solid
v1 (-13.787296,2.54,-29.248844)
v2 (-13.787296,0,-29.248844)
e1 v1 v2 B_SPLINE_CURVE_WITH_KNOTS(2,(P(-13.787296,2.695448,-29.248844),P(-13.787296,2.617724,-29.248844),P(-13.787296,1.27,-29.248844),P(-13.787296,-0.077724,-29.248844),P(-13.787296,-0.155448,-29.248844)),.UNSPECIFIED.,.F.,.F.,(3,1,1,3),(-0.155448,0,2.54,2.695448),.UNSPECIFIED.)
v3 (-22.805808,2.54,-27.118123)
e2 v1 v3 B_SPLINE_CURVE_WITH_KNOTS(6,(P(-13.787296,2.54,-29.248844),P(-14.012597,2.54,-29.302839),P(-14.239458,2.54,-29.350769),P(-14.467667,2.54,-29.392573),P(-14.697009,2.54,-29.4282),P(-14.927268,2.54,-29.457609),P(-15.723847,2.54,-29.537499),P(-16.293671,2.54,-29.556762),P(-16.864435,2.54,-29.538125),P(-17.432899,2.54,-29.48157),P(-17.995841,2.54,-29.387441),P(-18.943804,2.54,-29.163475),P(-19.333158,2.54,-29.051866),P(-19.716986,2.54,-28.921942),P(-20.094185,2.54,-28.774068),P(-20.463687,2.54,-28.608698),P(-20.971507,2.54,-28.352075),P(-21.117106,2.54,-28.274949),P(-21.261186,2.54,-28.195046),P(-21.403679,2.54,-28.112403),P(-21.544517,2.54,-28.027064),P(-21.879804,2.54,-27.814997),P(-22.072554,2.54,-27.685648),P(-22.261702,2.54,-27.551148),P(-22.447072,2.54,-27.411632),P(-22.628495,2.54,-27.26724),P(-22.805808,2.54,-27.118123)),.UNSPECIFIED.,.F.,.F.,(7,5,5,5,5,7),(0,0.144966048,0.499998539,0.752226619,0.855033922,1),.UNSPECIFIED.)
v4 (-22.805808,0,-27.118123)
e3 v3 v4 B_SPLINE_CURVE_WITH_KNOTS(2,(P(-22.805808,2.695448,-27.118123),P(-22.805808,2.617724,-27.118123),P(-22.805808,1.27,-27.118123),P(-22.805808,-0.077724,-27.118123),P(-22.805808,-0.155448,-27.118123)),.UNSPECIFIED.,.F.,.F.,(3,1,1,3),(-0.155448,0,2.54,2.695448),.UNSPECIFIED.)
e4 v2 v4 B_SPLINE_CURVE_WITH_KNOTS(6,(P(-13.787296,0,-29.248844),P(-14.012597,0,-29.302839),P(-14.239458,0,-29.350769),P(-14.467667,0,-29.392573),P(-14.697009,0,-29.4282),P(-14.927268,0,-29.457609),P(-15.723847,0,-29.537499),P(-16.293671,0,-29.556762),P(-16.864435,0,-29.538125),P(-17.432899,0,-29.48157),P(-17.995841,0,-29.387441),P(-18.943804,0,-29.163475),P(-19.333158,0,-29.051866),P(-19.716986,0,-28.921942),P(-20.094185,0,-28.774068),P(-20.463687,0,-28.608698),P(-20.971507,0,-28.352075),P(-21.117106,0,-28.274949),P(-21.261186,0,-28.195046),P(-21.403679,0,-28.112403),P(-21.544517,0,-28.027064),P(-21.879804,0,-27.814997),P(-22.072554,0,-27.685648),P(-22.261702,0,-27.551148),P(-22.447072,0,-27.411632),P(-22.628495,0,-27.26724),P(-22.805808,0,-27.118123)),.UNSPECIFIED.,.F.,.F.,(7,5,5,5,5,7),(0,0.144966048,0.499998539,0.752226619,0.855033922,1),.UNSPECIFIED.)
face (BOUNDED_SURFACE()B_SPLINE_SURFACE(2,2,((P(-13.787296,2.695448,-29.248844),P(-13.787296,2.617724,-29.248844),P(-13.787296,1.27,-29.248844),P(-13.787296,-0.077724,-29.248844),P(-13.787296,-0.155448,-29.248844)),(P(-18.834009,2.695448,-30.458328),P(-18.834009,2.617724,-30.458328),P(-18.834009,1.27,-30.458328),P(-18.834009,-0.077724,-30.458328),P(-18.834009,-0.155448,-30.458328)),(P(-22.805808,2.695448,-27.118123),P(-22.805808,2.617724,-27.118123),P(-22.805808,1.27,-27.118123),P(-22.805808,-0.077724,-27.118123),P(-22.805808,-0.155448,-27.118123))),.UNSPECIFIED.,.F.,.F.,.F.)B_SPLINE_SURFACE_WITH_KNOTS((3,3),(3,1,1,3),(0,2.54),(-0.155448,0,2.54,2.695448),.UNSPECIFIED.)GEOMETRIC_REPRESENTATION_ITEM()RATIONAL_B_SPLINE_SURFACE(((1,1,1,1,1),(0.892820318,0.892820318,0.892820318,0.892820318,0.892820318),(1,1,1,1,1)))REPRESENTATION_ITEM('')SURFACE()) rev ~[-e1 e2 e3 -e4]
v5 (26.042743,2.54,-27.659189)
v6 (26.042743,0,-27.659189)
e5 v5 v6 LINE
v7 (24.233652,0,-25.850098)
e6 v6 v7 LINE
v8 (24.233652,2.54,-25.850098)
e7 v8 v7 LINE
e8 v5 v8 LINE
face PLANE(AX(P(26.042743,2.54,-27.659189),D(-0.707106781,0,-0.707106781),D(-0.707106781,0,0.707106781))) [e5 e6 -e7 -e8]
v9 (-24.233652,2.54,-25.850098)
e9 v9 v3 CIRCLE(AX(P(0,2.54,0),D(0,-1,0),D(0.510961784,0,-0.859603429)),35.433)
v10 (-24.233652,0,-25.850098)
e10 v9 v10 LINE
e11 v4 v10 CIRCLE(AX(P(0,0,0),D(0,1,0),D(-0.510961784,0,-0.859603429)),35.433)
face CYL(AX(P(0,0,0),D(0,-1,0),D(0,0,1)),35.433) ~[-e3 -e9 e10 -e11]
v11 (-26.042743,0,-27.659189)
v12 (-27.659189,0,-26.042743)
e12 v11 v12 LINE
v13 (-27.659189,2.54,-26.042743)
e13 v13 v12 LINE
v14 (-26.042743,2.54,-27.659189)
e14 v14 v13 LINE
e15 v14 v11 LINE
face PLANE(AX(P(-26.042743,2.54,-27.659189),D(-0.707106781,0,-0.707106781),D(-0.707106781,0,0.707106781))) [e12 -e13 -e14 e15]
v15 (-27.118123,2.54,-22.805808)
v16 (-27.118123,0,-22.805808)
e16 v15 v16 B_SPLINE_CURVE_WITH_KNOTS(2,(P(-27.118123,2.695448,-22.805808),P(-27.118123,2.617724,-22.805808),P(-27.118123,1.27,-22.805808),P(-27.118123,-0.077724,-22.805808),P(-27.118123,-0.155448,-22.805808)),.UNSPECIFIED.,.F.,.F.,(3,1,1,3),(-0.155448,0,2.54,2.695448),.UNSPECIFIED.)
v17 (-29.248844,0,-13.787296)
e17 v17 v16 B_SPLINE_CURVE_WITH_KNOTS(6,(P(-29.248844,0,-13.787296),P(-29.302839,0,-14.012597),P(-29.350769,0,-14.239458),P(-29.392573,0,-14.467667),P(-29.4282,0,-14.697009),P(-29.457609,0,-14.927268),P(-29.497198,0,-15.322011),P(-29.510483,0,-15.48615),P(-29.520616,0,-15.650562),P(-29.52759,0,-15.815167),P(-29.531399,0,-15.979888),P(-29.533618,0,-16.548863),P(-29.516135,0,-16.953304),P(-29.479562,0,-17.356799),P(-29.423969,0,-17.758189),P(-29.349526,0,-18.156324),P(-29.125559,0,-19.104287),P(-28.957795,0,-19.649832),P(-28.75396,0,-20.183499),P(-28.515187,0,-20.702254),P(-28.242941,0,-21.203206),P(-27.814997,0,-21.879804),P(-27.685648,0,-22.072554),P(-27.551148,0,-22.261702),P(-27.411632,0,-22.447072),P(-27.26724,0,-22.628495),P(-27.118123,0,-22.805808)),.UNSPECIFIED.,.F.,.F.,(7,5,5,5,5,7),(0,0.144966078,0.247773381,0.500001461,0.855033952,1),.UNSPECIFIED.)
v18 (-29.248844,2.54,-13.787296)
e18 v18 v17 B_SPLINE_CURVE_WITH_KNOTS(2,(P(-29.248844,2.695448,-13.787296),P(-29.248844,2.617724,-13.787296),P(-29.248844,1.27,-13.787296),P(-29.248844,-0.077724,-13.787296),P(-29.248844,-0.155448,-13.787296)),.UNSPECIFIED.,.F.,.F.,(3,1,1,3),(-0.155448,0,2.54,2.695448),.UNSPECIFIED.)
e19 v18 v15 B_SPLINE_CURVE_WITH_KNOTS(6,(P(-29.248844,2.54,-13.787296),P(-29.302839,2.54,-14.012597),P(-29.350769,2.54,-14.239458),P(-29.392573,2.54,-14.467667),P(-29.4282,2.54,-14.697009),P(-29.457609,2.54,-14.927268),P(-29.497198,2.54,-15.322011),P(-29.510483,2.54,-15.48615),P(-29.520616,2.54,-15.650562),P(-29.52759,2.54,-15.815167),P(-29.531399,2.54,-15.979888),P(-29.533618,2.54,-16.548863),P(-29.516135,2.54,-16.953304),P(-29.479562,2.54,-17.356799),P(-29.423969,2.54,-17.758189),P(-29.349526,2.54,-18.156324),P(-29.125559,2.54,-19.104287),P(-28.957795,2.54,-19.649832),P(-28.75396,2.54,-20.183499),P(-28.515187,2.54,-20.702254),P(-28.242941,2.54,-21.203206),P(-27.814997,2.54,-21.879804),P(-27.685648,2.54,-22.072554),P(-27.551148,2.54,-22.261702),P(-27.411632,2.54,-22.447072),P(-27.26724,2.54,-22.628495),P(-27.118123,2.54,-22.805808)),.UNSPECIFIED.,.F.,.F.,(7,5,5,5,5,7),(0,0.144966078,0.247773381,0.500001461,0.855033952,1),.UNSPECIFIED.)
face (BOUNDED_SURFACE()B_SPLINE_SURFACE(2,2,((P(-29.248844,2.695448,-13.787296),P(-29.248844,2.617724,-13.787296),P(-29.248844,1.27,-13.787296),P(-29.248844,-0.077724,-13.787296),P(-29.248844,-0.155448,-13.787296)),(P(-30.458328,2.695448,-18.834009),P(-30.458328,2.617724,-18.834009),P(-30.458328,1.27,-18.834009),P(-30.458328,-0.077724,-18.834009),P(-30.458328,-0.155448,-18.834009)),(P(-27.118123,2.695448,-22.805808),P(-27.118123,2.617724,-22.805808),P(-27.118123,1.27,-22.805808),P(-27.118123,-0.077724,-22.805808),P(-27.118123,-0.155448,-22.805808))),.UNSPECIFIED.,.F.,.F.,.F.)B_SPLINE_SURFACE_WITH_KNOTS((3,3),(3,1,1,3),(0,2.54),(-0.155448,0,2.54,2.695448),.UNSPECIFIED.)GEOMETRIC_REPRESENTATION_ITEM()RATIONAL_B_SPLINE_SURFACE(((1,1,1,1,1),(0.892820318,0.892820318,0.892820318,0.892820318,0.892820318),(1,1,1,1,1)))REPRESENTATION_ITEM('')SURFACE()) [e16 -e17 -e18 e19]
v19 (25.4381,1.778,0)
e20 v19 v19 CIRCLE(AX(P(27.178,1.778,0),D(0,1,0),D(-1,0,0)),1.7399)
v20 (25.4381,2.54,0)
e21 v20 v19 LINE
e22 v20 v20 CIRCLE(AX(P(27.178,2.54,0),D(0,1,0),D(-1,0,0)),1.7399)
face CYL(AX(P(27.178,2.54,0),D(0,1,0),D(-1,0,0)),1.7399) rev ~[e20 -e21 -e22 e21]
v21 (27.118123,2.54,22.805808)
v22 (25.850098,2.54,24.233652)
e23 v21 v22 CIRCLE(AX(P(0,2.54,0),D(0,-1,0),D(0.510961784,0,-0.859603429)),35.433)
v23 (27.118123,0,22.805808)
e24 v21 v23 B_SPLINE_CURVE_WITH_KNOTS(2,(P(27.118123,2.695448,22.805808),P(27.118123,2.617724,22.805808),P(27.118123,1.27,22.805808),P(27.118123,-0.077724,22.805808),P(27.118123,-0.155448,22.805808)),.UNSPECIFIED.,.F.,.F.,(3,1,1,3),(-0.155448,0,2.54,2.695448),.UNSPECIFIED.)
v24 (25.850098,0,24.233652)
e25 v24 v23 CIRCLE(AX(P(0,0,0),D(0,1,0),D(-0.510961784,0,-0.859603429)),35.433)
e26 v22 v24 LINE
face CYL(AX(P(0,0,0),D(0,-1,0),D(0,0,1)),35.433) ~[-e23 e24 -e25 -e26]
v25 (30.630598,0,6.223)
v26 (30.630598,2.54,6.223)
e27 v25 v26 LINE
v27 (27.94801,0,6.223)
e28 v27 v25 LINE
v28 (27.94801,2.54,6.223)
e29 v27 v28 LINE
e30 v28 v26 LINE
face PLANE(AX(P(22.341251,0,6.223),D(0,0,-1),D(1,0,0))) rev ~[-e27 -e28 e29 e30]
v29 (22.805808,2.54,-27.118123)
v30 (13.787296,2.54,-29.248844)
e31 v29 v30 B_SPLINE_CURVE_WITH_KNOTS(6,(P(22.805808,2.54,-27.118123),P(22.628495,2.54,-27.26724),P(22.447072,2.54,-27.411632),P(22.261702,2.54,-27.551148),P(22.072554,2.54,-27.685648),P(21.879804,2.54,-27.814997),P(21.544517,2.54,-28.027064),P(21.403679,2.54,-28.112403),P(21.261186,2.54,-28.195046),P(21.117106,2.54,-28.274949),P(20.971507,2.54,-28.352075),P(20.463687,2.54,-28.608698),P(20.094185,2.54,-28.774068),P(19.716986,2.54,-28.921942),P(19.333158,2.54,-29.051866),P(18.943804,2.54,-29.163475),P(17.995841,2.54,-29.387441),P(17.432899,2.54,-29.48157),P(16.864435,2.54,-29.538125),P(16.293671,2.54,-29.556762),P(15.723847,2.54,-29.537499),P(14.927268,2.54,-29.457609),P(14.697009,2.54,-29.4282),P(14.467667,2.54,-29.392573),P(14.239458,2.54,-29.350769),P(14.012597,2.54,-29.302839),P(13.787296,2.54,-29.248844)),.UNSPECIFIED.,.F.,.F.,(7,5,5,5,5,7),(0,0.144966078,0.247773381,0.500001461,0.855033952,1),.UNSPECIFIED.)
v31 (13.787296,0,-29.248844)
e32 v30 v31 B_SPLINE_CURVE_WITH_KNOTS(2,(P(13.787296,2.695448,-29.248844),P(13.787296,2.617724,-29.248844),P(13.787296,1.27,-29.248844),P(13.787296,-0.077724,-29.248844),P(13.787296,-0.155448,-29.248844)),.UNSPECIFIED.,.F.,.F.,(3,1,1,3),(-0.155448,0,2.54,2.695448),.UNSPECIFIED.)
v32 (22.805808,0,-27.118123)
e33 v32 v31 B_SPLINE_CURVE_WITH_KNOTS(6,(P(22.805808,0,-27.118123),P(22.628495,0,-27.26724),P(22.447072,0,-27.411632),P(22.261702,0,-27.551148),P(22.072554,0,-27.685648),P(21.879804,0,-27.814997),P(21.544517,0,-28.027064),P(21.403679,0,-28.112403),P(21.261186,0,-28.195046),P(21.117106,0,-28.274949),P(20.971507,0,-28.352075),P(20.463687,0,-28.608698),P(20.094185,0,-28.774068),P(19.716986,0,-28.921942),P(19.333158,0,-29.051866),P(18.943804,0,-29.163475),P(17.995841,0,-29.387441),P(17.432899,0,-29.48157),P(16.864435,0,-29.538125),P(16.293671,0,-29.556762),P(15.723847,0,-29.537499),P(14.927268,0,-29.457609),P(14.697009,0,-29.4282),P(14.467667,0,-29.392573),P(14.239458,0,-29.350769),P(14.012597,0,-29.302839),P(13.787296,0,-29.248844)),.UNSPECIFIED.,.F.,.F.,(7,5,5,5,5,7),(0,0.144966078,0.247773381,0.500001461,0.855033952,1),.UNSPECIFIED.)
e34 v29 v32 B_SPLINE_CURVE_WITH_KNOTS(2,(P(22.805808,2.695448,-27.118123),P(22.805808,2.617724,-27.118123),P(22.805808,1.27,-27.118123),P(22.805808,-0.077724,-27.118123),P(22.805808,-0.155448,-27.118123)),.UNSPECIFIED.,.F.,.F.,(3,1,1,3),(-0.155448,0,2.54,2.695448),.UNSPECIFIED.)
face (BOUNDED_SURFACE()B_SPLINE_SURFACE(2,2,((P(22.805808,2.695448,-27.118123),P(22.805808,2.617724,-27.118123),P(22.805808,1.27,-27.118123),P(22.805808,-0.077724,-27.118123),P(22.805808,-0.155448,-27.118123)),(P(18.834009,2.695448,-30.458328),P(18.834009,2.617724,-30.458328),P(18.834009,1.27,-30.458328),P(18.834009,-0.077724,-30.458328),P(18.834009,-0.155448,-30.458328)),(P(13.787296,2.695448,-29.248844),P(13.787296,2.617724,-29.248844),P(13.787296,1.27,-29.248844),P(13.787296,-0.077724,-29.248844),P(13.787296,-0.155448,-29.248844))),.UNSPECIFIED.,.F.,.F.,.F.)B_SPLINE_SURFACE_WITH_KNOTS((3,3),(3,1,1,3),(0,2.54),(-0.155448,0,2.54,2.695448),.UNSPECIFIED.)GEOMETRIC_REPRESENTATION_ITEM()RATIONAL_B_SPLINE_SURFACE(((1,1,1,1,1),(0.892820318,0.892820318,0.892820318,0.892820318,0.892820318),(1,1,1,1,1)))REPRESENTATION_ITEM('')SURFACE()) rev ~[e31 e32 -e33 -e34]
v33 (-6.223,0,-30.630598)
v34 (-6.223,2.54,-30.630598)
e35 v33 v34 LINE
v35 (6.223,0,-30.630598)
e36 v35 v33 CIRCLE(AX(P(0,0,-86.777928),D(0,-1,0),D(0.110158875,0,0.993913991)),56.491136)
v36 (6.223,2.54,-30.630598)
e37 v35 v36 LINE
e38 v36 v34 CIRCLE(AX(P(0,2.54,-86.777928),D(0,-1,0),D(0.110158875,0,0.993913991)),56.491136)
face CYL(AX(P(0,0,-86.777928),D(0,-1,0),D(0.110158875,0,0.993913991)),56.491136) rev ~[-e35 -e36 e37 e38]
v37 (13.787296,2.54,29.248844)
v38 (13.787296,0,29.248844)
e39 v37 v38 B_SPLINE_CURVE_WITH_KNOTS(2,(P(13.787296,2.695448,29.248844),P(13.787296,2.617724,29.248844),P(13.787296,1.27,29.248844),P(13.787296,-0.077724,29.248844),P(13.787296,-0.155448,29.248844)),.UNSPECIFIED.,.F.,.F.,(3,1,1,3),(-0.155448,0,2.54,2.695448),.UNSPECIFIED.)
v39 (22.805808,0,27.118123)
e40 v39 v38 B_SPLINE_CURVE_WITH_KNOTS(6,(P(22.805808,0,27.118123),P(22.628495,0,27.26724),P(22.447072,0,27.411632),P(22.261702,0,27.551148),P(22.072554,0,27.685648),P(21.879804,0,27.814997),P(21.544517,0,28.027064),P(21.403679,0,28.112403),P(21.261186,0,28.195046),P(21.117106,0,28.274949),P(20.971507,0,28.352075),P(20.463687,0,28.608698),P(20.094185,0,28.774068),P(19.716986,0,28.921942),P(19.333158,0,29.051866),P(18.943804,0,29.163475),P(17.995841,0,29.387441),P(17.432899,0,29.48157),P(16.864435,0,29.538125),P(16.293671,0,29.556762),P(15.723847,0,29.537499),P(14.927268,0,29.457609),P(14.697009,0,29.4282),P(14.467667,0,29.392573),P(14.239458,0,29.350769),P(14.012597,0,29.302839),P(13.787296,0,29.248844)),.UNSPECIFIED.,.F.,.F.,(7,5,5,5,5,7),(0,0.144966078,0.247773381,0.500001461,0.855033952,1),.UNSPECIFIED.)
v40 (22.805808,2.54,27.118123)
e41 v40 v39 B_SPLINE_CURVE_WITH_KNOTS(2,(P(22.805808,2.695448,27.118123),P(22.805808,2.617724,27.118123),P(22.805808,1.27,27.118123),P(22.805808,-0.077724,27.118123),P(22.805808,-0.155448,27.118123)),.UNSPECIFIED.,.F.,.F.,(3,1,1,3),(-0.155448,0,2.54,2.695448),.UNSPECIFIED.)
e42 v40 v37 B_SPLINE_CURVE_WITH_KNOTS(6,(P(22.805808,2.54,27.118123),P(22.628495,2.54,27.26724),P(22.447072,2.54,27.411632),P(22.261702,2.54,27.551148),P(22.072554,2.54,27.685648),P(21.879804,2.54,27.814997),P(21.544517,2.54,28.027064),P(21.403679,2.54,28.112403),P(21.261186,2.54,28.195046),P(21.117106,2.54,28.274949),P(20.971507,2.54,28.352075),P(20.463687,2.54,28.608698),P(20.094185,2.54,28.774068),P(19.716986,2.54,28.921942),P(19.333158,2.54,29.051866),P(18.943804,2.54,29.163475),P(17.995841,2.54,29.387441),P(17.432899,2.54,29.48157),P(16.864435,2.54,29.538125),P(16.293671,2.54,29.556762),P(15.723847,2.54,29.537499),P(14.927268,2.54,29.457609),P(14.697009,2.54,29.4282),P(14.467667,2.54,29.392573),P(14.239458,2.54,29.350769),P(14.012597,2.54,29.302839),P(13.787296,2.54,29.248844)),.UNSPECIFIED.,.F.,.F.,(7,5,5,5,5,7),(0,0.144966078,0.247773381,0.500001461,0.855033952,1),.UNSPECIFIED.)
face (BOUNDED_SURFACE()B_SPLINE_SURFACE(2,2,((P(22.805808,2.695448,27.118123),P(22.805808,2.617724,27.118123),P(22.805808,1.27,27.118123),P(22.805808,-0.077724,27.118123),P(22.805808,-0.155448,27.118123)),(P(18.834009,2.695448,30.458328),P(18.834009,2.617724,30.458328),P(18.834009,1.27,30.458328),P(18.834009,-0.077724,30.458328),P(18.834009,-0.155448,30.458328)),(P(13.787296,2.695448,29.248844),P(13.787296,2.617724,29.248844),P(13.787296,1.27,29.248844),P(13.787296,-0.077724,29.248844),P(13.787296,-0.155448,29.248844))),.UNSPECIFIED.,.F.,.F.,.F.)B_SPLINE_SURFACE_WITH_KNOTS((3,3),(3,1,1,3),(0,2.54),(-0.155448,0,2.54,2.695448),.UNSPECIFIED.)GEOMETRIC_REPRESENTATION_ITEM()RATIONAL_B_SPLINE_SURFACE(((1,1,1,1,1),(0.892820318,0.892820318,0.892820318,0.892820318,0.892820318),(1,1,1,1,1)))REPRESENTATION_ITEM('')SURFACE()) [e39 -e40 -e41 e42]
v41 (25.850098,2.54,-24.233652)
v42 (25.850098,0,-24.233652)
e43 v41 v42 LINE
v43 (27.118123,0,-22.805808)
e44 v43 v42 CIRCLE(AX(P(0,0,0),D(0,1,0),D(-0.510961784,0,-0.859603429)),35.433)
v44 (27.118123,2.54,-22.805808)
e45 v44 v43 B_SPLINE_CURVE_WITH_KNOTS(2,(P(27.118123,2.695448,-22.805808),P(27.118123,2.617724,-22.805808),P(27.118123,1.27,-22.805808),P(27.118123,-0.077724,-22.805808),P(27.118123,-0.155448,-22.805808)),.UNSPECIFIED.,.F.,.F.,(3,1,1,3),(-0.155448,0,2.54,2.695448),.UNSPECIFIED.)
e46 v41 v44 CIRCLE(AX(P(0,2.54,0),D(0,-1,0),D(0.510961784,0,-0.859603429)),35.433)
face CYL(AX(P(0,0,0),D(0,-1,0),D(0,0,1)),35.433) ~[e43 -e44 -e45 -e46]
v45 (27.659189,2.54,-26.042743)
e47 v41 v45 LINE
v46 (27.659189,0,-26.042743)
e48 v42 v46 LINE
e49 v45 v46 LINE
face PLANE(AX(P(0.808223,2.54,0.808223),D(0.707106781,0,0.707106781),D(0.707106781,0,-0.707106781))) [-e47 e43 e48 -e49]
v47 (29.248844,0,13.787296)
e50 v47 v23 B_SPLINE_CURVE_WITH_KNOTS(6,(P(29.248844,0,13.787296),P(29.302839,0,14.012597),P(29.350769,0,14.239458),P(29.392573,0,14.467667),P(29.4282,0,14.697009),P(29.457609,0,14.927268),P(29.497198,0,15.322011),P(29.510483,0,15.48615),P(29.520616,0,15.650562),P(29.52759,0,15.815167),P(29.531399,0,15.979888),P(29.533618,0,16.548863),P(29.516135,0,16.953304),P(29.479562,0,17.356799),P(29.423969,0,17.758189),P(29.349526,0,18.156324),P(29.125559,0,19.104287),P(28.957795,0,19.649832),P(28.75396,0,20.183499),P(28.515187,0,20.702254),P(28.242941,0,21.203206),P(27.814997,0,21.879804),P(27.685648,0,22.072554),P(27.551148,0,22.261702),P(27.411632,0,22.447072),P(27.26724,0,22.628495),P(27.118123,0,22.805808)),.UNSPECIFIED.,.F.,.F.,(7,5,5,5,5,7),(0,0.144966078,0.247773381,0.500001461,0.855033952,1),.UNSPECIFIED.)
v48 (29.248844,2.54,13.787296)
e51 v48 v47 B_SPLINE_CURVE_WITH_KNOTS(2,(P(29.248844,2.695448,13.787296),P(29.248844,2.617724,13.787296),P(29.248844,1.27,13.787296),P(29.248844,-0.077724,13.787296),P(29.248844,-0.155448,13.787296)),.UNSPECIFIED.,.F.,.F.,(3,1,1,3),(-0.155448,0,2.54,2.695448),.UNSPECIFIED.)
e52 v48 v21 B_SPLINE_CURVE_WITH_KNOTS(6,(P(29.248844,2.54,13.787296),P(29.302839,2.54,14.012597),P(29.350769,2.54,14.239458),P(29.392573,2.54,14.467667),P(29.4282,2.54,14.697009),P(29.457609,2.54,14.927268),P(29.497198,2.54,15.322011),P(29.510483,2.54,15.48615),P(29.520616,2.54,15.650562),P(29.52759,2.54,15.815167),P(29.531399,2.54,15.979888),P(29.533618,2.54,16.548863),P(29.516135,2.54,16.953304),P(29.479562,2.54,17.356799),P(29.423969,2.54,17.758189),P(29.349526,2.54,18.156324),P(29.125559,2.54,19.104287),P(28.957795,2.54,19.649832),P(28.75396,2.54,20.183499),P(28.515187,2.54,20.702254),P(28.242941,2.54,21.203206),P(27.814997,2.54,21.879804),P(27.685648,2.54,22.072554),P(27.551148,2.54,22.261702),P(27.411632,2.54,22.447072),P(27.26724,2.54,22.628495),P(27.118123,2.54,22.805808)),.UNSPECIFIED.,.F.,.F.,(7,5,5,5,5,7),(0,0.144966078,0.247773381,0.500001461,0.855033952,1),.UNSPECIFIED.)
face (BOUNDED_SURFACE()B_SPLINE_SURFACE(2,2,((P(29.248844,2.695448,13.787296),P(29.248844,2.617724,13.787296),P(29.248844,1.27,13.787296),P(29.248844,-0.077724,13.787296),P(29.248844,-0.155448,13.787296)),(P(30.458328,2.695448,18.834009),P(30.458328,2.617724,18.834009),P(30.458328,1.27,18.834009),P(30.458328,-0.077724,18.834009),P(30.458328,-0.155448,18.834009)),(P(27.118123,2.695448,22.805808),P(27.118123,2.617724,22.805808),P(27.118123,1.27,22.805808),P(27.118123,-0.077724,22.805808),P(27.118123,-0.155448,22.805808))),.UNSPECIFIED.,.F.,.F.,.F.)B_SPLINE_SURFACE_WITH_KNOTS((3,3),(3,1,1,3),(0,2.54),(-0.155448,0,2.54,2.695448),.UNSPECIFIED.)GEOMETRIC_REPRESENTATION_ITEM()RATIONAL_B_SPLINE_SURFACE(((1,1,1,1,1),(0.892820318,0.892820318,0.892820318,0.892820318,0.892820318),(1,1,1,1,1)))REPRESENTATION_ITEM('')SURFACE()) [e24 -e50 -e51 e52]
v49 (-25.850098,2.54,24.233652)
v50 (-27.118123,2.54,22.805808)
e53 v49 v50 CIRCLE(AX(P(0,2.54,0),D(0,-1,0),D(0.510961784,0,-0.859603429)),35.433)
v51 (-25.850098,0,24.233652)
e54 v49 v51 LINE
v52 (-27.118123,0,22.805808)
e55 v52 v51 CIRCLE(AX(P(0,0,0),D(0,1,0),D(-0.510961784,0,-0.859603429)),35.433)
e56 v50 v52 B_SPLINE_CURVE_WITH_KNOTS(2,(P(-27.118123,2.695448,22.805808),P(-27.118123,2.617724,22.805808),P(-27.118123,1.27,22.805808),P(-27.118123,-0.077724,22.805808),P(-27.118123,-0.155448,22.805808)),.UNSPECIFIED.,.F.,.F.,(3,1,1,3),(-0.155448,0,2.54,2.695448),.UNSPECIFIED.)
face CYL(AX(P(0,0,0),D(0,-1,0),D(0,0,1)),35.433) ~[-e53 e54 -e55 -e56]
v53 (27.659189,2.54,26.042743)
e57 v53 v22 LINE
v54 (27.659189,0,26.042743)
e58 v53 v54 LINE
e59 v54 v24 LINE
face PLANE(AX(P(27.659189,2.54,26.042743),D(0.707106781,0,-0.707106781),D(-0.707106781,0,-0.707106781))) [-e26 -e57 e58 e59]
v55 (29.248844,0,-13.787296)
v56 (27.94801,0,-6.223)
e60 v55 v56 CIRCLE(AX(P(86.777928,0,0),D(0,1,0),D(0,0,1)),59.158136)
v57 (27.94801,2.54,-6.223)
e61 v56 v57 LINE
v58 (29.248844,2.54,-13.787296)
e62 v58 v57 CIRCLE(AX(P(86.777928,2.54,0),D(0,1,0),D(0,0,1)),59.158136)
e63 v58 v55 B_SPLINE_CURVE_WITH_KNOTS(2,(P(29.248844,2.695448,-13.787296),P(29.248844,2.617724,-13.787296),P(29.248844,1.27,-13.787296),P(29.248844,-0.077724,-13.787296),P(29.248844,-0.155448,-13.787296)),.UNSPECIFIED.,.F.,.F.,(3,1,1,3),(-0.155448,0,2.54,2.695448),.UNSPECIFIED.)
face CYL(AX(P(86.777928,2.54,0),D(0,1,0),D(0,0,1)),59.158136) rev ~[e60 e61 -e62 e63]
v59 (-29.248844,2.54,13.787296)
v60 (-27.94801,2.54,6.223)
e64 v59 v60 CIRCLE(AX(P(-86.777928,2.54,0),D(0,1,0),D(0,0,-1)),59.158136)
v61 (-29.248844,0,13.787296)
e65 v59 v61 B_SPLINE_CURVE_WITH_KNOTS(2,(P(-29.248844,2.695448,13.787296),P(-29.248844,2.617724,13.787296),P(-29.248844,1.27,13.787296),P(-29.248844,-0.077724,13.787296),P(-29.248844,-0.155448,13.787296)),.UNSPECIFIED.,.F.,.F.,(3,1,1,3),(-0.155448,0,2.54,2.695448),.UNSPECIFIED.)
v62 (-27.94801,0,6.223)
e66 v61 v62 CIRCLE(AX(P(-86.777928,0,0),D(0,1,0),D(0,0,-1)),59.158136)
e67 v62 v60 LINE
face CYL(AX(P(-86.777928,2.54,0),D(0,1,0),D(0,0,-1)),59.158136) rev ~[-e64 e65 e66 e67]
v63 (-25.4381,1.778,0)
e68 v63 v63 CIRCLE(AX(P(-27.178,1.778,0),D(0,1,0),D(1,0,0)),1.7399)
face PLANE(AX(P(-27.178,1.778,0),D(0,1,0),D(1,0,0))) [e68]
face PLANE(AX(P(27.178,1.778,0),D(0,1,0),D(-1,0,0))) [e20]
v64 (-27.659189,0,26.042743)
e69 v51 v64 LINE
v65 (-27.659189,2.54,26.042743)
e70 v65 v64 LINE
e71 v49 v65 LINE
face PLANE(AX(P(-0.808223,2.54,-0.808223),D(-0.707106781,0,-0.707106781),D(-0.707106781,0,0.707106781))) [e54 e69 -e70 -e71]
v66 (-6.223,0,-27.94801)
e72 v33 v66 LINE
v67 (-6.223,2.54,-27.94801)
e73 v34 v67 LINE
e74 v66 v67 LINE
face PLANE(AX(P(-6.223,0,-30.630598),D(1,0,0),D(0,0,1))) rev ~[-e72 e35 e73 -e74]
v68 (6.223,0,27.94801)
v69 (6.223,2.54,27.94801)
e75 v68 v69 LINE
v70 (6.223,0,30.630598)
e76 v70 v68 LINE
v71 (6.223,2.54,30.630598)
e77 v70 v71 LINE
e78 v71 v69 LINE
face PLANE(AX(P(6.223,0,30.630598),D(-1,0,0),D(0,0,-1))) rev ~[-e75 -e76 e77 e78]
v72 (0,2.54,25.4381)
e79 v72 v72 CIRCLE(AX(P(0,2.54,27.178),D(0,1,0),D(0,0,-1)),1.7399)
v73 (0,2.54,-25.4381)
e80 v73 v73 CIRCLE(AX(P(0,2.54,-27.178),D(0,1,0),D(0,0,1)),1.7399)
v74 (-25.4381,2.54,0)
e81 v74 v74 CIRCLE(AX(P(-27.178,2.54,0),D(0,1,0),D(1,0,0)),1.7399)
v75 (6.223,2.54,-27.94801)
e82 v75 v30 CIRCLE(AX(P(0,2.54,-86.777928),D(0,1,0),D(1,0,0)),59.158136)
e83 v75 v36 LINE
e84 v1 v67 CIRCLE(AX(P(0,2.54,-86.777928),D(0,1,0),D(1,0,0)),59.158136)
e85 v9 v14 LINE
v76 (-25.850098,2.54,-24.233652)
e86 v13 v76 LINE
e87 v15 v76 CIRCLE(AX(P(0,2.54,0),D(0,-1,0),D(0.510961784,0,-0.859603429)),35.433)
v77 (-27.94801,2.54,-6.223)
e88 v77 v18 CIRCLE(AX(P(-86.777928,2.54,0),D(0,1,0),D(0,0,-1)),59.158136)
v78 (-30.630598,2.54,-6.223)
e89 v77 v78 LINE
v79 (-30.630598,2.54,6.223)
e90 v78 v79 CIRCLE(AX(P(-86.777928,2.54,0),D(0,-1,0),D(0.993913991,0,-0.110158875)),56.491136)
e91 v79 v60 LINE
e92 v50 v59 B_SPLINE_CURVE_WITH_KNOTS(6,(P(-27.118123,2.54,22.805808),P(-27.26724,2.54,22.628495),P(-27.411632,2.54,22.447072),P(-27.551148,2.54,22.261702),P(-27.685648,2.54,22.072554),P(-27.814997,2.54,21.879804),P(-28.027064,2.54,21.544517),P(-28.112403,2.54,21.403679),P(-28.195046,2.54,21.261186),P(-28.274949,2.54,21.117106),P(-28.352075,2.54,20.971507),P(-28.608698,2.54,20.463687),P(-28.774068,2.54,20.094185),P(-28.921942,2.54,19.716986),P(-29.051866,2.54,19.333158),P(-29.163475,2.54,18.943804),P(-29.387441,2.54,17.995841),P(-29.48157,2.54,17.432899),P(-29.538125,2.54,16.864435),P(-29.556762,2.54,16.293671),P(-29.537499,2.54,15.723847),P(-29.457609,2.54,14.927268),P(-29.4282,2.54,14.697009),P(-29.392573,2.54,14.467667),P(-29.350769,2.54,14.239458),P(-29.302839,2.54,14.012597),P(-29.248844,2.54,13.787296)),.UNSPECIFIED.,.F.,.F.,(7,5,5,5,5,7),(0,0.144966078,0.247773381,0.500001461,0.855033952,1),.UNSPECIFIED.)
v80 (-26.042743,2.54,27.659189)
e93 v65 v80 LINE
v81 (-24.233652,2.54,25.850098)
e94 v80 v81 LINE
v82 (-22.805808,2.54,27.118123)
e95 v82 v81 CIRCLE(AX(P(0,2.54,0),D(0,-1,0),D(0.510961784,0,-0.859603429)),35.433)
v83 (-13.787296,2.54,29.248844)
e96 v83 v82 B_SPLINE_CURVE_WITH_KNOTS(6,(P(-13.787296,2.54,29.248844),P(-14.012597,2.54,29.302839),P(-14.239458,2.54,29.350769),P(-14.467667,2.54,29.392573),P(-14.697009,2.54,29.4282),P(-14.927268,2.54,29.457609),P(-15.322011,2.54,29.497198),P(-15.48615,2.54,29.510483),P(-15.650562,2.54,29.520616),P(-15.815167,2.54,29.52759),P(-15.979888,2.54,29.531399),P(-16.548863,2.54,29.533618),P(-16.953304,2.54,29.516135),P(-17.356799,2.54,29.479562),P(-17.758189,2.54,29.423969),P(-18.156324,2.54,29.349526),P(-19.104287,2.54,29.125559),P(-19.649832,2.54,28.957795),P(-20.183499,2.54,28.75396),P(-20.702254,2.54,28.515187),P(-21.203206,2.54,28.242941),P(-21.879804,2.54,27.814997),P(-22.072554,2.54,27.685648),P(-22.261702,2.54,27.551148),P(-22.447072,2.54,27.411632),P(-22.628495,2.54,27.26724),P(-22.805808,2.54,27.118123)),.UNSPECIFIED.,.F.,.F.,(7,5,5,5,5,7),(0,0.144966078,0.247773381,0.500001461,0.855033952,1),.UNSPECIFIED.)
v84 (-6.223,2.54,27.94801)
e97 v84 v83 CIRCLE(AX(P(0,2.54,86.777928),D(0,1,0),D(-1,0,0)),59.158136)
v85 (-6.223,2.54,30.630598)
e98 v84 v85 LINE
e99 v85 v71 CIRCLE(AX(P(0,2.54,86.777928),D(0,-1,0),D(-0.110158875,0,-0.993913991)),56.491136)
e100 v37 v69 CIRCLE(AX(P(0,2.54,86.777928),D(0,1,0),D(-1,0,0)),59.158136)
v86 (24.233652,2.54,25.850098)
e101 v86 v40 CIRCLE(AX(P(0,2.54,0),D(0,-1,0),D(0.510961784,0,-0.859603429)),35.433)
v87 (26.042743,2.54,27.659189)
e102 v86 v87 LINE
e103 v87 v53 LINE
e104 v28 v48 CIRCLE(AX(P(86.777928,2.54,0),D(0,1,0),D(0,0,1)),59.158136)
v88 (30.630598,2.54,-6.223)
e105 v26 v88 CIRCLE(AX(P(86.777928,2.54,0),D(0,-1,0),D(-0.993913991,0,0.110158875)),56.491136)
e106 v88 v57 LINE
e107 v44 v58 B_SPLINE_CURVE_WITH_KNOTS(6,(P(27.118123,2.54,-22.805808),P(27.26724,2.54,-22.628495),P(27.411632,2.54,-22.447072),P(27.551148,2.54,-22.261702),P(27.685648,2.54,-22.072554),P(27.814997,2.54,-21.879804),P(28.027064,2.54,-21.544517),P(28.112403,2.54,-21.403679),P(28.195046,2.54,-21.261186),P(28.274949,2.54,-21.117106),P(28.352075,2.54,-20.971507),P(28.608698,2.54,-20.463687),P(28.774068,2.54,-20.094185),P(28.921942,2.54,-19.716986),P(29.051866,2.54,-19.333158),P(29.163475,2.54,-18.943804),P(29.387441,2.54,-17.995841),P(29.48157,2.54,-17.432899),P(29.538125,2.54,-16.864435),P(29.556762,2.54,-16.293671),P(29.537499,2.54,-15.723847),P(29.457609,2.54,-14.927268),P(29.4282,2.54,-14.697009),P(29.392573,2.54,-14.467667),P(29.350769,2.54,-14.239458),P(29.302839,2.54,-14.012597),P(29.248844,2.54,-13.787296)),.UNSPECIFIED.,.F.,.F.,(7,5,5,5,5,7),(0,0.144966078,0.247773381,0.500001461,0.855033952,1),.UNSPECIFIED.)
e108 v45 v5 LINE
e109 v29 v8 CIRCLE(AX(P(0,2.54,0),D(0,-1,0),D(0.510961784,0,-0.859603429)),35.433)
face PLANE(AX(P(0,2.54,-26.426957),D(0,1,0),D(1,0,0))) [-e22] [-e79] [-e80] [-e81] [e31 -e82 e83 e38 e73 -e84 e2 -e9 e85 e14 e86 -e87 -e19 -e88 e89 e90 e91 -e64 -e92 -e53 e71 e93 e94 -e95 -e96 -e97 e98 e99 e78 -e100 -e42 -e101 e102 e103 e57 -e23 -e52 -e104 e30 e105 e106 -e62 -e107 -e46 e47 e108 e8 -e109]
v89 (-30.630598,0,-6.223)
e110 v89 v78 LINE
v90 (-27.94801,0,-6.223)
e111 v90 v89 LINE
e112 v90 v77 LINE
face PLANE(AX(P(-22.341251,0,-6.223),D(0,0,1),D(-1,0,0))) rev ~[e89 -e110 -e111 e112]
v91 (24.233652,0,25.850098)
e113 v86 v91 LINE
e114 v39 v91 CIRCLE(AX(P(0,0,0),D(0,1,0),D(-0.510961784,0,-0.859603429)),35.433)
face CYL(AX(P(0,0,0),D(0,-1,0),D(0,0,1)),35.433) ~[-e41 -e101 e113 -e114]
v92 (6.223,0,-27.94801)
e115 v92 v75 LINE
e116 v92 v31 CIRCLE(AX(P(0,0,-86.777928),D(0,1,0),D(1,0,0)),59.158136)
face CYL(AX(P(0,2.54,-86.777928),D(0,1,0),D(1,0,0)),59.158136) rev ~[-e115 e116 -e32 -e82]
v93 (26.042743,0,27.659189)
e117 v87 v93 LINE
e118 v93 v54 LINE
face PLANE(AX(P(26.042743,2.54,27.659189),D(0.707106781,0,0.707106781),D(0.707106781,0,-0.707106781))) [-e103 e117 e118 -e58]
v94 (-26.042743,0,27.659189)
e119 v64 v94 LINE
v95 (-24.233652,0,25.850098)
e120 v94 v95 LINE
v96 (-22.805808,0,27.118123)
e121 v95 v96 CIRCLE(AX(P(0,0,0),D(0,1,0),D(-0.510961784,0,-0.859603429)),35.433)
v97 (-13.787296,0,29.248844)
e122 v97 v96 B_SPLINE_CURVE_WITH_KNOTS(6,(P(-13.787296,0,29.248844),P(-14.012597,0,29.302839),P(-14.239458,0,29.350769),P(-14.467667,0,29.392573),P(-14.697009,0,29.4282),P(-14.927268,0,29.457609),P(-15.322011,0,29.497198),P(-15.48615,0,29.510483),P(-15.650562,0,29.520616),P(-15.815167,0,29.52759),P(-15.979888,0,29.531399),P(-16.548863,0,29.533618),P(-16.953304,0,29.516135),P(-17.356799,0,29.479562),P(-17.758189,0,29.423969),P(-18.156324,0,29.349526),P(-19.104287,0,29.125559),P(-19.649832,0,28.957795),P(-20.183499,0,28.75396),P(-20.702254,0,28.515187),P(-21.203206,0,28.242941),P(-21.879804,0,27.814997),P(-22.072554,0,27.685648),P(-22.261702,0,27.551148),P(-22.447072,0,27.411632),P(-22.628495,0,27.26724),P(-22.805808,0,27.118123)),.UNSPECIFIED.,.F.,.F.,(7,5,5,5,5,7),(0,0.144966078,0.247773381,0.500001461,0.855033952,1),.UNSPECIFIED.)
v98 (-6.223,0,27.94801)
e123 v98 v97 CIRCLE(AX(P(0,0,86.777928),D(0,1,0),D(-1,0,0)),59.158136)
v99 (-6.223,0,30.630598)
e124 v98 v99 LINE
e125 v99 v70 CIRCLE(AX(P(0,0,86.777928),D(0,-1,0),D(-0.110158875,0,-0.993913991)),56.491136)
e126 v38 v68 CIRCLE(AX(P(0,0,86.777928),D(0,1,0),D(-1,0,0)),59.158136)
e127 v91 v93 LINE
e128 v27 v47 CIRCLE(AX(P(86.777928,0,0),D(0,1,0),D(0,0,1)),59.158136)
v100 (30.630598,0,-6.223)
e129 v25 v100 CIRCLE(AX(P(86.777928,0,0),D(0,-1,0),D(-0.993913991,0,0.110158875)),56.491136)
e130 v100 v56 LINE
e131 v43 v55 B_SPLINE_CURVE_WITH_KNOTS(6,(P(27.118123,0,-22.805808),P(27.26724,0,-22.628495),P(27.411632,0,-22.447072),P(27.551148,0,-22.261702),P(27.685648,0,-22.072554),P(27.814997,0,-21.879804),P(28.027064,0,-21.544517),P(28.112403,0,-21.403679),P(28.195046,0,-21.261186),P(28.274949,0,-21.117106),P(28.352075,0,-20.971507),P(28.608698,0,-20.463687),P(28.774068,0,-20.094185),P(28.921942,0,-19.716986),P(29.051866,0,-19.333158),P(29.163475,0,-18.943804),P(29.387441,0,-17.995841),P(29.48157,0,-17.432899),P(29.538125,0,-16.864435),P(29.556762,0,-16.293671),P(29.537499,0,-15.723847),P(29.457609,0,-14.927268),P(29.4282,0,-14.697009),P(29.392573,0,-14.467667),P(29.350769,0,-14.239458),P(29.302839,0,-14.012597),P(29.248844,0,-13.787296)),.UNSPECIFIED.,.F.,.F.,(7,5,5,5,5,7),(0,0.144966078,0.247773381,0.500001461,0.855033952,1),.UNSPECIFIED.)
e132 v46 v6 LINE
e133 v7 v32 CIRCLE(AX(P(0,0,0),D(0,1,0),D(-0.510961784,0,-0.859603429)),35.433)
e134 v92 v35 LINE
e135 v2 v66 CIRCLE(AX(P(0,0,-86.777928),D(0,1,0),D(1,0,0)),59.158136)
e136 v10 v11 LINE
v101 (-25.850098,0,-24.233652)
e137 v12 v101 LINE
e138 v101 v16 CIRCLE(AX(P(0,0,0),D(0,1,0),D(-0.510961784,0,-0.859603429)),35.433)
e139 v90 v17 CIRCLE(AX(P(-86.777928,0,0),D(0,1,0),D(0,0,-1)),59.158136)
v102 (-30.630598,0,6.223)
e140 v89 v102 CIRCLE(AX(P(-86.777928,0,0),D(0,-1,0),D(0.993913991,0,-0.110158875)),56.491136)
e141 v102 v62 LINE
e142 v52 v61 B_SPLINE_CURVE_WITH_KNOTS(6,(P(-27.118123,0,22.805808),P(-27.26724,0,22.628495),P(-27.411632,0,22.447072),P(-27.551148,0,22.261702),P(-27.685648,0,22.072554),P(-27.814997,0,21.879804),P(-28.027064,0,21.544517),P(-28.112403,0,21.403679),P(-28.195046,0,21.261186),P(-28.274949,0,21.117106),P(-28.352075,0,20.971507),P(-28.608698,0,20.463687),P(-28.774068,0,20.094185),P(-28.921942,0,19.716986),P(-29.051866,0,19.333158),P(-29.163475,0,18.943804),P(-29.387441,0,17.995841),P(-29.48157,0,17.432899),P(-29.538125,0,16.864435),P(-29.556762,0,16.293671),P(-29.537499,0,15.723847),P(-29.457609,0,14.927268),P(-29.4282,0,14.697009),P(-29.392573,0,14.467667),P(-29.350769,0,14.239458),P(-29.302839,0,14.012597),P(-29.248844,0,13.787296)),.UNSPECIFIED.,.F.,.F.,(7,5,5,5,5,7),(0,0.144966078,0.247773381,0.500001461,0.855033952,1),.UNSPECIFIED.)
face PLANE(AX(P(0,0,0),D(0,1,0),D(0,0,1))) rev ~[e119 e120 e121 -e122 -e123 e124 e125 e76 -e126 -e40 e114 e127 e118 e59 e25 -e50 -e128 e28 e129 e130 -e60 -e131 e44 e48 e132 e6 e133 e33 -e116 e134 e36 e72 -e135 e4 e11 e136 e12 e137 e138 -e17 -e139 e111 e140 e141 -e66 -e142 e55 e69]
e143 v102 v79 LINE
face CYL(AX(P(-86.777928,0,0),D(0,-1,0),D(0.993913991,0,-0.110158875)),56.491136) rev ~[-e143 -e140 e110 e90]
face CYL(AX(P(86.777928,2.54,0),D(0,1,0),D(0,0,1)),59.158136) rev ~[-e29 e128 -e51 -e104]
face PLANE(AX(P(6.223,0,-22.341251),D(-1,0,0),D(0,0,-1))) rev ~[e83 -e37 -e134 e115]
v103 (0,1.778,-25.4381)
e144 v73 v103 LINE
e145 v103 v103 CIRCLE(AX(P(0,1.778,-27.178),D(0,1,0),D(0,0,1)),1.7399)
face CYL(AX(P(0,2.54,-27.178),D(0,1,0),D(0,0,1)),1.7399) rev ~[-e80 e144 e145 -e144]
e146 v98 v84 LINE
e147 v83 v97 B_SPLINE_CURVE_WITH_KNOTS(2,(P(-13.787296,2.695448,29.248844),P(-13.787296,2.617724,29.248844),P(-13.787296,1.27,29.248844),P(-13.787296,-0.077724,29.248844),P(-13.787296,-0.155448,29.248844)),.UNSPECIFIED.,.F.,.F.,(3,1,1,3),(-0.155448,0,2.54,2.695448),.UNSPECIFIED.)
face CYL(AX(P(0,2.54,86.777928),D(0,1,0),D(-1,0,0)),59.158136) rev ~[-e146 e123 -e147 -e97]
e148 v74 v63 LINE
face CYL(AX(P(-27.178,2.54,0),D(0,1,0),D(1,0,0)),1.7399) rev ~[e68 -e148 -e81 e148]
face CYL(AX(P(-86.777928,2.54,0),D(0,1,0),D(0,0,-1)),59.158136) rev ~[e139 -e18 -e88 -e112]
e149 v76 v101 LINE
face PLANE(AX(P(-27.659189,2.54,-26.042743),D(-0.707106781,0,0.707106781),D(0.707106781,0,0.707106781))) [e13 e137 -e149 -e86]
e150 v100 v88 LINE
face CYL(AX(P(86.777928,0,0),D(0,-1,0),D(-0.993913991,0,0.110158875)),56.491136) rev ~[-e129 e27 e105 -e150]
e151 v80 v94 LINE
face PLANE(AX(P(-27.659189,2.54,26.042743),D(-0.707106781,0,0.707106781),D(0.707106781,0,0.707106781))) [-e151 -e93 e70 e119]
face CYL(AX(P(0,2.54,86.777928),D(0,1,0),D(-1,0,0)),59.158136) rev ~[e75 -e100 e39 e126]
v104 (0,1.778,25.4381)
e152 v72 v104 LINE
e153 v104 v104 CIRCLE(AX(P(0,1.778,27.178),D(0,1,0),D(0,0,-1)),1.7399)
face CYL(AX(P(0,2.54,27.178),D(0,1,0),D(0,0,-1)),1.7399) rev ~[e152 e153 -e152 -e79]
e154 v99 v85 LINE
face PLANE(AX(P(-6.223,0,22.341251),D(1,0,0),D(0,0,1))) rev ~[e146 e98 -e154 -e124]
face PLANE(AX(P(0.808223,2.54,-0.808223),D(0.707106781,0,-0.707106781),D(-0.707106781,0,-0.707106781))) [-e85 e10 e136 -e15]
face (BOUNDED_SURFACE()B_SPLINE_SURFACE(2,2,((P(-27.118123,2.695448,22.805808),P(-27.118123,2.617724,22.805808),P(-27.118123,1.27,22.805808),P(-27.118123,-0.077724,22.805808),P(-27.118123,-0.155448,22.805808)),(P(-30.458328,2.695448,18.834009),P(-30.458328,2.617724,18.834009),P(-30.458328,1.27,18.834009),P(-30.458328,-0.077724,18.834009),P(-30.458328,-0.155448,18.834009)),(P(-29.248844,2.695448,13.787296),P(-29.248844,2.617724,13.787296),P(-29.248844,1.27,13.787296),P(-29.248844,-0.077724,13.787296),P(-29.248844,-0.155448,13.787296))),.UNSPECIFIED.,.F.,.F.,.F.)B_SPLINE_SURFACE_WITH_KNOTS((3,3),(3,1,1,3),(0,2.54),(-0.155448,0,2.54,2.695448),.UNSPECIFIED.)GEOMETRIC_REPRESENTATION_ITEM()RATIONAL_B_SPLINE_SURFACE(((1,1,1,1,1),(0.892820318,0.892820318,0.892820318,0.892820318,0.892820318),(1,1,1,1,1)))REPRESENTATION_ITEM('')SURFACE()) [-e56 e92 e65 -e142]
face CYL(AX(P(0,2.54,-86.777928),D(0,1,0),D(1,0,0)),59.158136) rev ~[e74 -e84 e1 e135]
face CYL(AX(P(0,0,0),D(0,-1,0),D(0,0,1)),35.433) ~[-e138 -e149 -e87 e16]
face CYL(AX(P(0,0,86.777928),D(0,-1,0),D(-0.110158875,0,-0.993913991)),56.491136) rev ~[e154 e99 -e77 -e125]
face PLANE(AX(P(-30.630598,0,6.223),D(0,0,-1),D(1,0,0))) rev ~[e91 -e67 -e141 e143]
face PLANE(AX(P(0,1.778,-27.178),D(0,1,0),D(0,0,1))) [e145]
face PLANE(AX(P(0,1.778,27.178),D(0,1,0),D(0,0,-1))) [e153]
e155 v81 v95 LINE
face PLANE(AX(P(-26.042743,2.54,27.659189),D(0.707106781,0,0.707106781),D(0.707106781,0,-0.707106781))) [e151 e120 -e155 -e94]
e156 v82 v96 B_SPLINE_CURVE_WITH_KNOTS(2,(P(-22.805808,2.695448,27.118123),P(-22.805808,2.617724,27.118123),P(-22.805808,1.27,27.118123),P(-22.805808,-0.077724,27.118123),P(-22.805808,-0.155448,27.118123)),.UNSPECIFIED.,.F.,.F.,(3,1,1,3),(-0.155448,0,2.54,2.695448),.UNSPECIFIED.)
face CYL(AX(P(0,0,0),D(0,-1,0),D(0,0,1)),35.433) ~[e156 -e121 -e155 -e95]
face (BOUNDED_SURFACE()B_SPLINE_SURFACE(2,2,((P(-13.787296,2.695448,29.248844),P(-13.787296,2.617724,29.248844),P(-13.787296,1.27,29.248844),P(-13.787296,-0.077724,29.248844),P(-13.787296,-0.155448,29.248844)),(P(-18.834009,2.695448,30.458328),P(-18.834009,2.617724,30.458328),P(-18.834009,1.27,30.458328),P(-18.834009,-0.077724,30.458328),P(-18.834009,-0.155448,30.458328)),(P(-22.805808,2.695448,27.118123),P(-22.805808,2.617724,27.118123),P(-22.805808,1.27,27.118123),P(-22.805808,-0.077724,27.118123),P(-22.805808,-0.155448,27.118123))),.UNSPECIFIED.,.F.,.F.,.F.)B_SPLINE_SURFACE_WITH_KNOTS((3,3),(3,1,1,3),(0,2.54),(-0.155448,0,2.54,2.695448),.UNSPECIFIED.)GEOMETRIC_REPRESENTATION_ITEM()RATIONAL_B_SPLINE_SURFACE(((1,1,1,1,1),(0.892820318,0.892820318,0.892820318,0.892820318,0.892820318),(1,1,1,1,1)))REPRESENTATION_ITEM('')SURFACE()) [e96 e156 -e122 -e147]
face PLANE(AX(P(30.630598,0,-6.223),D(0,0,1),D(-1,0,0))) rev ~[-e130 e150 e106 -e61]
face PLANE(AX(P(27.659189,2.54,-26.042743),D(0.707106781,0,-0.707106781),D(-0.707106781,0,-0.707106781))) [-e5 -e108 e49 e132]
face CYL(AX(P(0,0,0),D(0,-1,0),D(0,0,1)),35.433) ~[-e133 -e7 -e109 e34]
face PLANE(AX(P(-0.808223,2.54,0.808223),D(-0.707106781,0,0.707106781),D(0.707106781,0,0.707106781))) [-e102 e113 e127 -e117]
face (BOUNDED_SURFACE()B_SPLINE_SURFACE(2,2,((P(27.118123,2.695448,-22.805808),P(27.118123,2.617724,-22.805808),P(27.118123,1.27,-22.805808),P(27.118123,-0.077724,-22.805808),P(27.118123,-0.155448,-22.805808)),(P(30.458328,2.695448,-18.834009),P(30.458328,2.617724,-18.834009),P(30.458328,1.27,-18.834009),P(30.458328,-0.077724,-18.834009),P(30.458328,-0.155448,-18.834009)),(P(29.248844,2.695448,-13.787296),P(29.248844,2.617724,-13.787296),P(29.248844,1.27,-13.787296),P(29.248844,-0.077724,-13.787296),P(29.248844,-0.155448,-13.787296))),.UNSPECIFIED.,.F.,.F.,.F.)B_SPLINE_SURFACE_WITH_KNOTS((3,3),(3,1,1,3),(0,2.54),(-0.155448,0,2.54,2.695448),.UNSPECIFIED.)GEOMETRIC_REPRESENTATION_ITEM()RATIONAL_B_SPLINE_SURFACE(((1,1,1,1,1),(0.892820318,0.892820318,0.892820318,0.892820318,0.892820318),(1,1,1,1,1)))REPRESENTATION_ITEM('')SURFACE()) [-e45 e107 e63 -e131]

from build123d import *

# Parameters (mm, degrees)
SKETCH1_R                = 35.433
BOSS_EXTRUDE1_DEPTH      = 2.54
SKETCH2_R                = 59.158135963
CUT_EXTRUDE1_DEPTH       = 51.174162454
BOSS_EXTRUDE3_DEPTH      = 2.54
SKETCH4_R                = 1.7399
CUT_EXTRUDE2_DEPTH       = 0.762
FILLET1_R                = 10.287
EXTRUDE_THIN1_DEPTH      = 2.54
CIRPATTERN1_COUNT        = 4
FILLET1_OF_CIRPATTERN1_R = 10.287


with BuildPart() as part:
    # Sketch1 → Boss-Extrude1 (new body)
    with BuildSketch(Plane(origin=(0, 0, 0), x_dir=(1, 0, 0), z_dir=(0, 1, 0))):
        with Locations(Location((0, 0, 0), (0, 0, 270))):
            Circle(SKETCH1_R)
    extrude(amount=BOSS_EXTRUDE1_DEPTH)

    # Sketch2 → Cut-Extrude1 (cut, through all)
    with BuildSketch(Plane(origin=(0, 2.54, 0), x_dir=(1, 0, 0), z_dir=(0, 1, 0))):
        with Locations((0, 86.777928127)):
            Circle(SKETCH2_R)
    cut_extrude1 = extrude(amount=-CUT_EXTRUDE1_DEPTH, mode=Mode.SUBTRACT)

    # Sketch3 → Boss-Extrude3 (add)
    with BuildSketch(Plane(origin=(0, 0, 0), x_dir=(-1, 0, 0), z_dir=(0, -1, 0))):
        with BuildLine():
            Line((6.223, 22.34125112), (-6.223, 22.34125112))
            Line((-6.223, 22.34125112), (-6.223, 30.630597706))
            ThreePointArc((-6.223, 30.630597706), (0, 30.286792164), (6.223, 30.630597706))
            Line((6.223, 30.630597706), (6.223, 22.34125112))
        make_face()
    boss_extrude3 = extrude(amount=-BOSS_EXTRUDE3_DEPTH)

    # Sketch4 → Cut-Extrude2 (cut)
    with BuildSketch(Plane(origin=(0, 2.54, 0), x_dir=(1, 0, 0), z_dir=(0, 1, 0))):
        with Locations(Location((0, 27.178, 0), (0, 0, 270))):
            Circle(SKETCH4_R)
    cut_extrude2 = extrude(amount=-CUT_EXTRUDE2_DEPTH, mode=Mode.SUBTRACT)

    # Fillet1
    fillet1_edges = [part.edges().sort_by_distance(p)[0] for p in [
        (18.104908895, 1.27, -30.458328301),
        (-18.104908895, 1.27, -30.458328301),
    ]]
    fillet(fillet1_edges, radius=FILLET1_R)

    # Sketch5 → Extrude-Thin1 (add)
    with BuildSketch(Plane(origin=(0, 2.54, 0), x_dir=(1, 0, 0), z_dir=(0, 1, 0))):
        Polygon((0.808223051, -0.808223051), (27.659188853, 26.042742751), (26.042742751, 27.659188853), (-0.808223051, 0.808223051), align=None)
    extrude_thin1 = extrude(amount=-EXTRUDE_THIN1_DEPTH)

    # CirPattern1: Cut-Extrude1, Boss-Extrude3, Cut-Extrude2, Extrude-Thin1 ×4 about axis
    cirpattern1_axis = Axis((0, 0, 0), (0, 1, 0))
    add([cut_extrude1.rotate(cirpattern1_axis, i * 360 / CIRPATTERN1_COUNT) for i in range(1, CIRPATTERN1_COUNT)], mode=Mode.SUBTRACT)
    add([boss_extrude3.rotate(cirpattern1_axis, i * 360 / CIRPATTERN1_COUNT) for i in range(1, CIRPATTERN1_COUNT)])
    add([cut_extrude2.rotate(cirpattern1_axis, i * 360 / CIRPATTERN1_COUNT) for i in range(1, CIRPATTERN1_COUNT)], mode=Mode.SUBTRACT)
    add([extrude_thin1.rotate(cirpattern1_axis, i * 360 / CIRPATTERN1_COUNT) for i in range(1, CIRPATTERN1_COUNT)])

    # Fillet1 of CirPattern1
    fillet1_of_cirpattern1_edges = [part.edges().sort_by_distance(p)[0] for p in [
        (-30.458328301, 1.27, -18.104908895),
        (-30.458328301, 1.27, 18.104908895),
        (-18.104908895, 1.27, 30.458328301),
        (18.104908895, 1.27, 30.458328301),
        (30.458328301, 1.27, 18.104908895),
        (30.458328301, 1.27, -18.104908895),
    ]]
    fillet(fillet1_of_cirpattern1_edges, radius=FILLET1_OF_CIRPATTERN1_R)


solid = part.part
